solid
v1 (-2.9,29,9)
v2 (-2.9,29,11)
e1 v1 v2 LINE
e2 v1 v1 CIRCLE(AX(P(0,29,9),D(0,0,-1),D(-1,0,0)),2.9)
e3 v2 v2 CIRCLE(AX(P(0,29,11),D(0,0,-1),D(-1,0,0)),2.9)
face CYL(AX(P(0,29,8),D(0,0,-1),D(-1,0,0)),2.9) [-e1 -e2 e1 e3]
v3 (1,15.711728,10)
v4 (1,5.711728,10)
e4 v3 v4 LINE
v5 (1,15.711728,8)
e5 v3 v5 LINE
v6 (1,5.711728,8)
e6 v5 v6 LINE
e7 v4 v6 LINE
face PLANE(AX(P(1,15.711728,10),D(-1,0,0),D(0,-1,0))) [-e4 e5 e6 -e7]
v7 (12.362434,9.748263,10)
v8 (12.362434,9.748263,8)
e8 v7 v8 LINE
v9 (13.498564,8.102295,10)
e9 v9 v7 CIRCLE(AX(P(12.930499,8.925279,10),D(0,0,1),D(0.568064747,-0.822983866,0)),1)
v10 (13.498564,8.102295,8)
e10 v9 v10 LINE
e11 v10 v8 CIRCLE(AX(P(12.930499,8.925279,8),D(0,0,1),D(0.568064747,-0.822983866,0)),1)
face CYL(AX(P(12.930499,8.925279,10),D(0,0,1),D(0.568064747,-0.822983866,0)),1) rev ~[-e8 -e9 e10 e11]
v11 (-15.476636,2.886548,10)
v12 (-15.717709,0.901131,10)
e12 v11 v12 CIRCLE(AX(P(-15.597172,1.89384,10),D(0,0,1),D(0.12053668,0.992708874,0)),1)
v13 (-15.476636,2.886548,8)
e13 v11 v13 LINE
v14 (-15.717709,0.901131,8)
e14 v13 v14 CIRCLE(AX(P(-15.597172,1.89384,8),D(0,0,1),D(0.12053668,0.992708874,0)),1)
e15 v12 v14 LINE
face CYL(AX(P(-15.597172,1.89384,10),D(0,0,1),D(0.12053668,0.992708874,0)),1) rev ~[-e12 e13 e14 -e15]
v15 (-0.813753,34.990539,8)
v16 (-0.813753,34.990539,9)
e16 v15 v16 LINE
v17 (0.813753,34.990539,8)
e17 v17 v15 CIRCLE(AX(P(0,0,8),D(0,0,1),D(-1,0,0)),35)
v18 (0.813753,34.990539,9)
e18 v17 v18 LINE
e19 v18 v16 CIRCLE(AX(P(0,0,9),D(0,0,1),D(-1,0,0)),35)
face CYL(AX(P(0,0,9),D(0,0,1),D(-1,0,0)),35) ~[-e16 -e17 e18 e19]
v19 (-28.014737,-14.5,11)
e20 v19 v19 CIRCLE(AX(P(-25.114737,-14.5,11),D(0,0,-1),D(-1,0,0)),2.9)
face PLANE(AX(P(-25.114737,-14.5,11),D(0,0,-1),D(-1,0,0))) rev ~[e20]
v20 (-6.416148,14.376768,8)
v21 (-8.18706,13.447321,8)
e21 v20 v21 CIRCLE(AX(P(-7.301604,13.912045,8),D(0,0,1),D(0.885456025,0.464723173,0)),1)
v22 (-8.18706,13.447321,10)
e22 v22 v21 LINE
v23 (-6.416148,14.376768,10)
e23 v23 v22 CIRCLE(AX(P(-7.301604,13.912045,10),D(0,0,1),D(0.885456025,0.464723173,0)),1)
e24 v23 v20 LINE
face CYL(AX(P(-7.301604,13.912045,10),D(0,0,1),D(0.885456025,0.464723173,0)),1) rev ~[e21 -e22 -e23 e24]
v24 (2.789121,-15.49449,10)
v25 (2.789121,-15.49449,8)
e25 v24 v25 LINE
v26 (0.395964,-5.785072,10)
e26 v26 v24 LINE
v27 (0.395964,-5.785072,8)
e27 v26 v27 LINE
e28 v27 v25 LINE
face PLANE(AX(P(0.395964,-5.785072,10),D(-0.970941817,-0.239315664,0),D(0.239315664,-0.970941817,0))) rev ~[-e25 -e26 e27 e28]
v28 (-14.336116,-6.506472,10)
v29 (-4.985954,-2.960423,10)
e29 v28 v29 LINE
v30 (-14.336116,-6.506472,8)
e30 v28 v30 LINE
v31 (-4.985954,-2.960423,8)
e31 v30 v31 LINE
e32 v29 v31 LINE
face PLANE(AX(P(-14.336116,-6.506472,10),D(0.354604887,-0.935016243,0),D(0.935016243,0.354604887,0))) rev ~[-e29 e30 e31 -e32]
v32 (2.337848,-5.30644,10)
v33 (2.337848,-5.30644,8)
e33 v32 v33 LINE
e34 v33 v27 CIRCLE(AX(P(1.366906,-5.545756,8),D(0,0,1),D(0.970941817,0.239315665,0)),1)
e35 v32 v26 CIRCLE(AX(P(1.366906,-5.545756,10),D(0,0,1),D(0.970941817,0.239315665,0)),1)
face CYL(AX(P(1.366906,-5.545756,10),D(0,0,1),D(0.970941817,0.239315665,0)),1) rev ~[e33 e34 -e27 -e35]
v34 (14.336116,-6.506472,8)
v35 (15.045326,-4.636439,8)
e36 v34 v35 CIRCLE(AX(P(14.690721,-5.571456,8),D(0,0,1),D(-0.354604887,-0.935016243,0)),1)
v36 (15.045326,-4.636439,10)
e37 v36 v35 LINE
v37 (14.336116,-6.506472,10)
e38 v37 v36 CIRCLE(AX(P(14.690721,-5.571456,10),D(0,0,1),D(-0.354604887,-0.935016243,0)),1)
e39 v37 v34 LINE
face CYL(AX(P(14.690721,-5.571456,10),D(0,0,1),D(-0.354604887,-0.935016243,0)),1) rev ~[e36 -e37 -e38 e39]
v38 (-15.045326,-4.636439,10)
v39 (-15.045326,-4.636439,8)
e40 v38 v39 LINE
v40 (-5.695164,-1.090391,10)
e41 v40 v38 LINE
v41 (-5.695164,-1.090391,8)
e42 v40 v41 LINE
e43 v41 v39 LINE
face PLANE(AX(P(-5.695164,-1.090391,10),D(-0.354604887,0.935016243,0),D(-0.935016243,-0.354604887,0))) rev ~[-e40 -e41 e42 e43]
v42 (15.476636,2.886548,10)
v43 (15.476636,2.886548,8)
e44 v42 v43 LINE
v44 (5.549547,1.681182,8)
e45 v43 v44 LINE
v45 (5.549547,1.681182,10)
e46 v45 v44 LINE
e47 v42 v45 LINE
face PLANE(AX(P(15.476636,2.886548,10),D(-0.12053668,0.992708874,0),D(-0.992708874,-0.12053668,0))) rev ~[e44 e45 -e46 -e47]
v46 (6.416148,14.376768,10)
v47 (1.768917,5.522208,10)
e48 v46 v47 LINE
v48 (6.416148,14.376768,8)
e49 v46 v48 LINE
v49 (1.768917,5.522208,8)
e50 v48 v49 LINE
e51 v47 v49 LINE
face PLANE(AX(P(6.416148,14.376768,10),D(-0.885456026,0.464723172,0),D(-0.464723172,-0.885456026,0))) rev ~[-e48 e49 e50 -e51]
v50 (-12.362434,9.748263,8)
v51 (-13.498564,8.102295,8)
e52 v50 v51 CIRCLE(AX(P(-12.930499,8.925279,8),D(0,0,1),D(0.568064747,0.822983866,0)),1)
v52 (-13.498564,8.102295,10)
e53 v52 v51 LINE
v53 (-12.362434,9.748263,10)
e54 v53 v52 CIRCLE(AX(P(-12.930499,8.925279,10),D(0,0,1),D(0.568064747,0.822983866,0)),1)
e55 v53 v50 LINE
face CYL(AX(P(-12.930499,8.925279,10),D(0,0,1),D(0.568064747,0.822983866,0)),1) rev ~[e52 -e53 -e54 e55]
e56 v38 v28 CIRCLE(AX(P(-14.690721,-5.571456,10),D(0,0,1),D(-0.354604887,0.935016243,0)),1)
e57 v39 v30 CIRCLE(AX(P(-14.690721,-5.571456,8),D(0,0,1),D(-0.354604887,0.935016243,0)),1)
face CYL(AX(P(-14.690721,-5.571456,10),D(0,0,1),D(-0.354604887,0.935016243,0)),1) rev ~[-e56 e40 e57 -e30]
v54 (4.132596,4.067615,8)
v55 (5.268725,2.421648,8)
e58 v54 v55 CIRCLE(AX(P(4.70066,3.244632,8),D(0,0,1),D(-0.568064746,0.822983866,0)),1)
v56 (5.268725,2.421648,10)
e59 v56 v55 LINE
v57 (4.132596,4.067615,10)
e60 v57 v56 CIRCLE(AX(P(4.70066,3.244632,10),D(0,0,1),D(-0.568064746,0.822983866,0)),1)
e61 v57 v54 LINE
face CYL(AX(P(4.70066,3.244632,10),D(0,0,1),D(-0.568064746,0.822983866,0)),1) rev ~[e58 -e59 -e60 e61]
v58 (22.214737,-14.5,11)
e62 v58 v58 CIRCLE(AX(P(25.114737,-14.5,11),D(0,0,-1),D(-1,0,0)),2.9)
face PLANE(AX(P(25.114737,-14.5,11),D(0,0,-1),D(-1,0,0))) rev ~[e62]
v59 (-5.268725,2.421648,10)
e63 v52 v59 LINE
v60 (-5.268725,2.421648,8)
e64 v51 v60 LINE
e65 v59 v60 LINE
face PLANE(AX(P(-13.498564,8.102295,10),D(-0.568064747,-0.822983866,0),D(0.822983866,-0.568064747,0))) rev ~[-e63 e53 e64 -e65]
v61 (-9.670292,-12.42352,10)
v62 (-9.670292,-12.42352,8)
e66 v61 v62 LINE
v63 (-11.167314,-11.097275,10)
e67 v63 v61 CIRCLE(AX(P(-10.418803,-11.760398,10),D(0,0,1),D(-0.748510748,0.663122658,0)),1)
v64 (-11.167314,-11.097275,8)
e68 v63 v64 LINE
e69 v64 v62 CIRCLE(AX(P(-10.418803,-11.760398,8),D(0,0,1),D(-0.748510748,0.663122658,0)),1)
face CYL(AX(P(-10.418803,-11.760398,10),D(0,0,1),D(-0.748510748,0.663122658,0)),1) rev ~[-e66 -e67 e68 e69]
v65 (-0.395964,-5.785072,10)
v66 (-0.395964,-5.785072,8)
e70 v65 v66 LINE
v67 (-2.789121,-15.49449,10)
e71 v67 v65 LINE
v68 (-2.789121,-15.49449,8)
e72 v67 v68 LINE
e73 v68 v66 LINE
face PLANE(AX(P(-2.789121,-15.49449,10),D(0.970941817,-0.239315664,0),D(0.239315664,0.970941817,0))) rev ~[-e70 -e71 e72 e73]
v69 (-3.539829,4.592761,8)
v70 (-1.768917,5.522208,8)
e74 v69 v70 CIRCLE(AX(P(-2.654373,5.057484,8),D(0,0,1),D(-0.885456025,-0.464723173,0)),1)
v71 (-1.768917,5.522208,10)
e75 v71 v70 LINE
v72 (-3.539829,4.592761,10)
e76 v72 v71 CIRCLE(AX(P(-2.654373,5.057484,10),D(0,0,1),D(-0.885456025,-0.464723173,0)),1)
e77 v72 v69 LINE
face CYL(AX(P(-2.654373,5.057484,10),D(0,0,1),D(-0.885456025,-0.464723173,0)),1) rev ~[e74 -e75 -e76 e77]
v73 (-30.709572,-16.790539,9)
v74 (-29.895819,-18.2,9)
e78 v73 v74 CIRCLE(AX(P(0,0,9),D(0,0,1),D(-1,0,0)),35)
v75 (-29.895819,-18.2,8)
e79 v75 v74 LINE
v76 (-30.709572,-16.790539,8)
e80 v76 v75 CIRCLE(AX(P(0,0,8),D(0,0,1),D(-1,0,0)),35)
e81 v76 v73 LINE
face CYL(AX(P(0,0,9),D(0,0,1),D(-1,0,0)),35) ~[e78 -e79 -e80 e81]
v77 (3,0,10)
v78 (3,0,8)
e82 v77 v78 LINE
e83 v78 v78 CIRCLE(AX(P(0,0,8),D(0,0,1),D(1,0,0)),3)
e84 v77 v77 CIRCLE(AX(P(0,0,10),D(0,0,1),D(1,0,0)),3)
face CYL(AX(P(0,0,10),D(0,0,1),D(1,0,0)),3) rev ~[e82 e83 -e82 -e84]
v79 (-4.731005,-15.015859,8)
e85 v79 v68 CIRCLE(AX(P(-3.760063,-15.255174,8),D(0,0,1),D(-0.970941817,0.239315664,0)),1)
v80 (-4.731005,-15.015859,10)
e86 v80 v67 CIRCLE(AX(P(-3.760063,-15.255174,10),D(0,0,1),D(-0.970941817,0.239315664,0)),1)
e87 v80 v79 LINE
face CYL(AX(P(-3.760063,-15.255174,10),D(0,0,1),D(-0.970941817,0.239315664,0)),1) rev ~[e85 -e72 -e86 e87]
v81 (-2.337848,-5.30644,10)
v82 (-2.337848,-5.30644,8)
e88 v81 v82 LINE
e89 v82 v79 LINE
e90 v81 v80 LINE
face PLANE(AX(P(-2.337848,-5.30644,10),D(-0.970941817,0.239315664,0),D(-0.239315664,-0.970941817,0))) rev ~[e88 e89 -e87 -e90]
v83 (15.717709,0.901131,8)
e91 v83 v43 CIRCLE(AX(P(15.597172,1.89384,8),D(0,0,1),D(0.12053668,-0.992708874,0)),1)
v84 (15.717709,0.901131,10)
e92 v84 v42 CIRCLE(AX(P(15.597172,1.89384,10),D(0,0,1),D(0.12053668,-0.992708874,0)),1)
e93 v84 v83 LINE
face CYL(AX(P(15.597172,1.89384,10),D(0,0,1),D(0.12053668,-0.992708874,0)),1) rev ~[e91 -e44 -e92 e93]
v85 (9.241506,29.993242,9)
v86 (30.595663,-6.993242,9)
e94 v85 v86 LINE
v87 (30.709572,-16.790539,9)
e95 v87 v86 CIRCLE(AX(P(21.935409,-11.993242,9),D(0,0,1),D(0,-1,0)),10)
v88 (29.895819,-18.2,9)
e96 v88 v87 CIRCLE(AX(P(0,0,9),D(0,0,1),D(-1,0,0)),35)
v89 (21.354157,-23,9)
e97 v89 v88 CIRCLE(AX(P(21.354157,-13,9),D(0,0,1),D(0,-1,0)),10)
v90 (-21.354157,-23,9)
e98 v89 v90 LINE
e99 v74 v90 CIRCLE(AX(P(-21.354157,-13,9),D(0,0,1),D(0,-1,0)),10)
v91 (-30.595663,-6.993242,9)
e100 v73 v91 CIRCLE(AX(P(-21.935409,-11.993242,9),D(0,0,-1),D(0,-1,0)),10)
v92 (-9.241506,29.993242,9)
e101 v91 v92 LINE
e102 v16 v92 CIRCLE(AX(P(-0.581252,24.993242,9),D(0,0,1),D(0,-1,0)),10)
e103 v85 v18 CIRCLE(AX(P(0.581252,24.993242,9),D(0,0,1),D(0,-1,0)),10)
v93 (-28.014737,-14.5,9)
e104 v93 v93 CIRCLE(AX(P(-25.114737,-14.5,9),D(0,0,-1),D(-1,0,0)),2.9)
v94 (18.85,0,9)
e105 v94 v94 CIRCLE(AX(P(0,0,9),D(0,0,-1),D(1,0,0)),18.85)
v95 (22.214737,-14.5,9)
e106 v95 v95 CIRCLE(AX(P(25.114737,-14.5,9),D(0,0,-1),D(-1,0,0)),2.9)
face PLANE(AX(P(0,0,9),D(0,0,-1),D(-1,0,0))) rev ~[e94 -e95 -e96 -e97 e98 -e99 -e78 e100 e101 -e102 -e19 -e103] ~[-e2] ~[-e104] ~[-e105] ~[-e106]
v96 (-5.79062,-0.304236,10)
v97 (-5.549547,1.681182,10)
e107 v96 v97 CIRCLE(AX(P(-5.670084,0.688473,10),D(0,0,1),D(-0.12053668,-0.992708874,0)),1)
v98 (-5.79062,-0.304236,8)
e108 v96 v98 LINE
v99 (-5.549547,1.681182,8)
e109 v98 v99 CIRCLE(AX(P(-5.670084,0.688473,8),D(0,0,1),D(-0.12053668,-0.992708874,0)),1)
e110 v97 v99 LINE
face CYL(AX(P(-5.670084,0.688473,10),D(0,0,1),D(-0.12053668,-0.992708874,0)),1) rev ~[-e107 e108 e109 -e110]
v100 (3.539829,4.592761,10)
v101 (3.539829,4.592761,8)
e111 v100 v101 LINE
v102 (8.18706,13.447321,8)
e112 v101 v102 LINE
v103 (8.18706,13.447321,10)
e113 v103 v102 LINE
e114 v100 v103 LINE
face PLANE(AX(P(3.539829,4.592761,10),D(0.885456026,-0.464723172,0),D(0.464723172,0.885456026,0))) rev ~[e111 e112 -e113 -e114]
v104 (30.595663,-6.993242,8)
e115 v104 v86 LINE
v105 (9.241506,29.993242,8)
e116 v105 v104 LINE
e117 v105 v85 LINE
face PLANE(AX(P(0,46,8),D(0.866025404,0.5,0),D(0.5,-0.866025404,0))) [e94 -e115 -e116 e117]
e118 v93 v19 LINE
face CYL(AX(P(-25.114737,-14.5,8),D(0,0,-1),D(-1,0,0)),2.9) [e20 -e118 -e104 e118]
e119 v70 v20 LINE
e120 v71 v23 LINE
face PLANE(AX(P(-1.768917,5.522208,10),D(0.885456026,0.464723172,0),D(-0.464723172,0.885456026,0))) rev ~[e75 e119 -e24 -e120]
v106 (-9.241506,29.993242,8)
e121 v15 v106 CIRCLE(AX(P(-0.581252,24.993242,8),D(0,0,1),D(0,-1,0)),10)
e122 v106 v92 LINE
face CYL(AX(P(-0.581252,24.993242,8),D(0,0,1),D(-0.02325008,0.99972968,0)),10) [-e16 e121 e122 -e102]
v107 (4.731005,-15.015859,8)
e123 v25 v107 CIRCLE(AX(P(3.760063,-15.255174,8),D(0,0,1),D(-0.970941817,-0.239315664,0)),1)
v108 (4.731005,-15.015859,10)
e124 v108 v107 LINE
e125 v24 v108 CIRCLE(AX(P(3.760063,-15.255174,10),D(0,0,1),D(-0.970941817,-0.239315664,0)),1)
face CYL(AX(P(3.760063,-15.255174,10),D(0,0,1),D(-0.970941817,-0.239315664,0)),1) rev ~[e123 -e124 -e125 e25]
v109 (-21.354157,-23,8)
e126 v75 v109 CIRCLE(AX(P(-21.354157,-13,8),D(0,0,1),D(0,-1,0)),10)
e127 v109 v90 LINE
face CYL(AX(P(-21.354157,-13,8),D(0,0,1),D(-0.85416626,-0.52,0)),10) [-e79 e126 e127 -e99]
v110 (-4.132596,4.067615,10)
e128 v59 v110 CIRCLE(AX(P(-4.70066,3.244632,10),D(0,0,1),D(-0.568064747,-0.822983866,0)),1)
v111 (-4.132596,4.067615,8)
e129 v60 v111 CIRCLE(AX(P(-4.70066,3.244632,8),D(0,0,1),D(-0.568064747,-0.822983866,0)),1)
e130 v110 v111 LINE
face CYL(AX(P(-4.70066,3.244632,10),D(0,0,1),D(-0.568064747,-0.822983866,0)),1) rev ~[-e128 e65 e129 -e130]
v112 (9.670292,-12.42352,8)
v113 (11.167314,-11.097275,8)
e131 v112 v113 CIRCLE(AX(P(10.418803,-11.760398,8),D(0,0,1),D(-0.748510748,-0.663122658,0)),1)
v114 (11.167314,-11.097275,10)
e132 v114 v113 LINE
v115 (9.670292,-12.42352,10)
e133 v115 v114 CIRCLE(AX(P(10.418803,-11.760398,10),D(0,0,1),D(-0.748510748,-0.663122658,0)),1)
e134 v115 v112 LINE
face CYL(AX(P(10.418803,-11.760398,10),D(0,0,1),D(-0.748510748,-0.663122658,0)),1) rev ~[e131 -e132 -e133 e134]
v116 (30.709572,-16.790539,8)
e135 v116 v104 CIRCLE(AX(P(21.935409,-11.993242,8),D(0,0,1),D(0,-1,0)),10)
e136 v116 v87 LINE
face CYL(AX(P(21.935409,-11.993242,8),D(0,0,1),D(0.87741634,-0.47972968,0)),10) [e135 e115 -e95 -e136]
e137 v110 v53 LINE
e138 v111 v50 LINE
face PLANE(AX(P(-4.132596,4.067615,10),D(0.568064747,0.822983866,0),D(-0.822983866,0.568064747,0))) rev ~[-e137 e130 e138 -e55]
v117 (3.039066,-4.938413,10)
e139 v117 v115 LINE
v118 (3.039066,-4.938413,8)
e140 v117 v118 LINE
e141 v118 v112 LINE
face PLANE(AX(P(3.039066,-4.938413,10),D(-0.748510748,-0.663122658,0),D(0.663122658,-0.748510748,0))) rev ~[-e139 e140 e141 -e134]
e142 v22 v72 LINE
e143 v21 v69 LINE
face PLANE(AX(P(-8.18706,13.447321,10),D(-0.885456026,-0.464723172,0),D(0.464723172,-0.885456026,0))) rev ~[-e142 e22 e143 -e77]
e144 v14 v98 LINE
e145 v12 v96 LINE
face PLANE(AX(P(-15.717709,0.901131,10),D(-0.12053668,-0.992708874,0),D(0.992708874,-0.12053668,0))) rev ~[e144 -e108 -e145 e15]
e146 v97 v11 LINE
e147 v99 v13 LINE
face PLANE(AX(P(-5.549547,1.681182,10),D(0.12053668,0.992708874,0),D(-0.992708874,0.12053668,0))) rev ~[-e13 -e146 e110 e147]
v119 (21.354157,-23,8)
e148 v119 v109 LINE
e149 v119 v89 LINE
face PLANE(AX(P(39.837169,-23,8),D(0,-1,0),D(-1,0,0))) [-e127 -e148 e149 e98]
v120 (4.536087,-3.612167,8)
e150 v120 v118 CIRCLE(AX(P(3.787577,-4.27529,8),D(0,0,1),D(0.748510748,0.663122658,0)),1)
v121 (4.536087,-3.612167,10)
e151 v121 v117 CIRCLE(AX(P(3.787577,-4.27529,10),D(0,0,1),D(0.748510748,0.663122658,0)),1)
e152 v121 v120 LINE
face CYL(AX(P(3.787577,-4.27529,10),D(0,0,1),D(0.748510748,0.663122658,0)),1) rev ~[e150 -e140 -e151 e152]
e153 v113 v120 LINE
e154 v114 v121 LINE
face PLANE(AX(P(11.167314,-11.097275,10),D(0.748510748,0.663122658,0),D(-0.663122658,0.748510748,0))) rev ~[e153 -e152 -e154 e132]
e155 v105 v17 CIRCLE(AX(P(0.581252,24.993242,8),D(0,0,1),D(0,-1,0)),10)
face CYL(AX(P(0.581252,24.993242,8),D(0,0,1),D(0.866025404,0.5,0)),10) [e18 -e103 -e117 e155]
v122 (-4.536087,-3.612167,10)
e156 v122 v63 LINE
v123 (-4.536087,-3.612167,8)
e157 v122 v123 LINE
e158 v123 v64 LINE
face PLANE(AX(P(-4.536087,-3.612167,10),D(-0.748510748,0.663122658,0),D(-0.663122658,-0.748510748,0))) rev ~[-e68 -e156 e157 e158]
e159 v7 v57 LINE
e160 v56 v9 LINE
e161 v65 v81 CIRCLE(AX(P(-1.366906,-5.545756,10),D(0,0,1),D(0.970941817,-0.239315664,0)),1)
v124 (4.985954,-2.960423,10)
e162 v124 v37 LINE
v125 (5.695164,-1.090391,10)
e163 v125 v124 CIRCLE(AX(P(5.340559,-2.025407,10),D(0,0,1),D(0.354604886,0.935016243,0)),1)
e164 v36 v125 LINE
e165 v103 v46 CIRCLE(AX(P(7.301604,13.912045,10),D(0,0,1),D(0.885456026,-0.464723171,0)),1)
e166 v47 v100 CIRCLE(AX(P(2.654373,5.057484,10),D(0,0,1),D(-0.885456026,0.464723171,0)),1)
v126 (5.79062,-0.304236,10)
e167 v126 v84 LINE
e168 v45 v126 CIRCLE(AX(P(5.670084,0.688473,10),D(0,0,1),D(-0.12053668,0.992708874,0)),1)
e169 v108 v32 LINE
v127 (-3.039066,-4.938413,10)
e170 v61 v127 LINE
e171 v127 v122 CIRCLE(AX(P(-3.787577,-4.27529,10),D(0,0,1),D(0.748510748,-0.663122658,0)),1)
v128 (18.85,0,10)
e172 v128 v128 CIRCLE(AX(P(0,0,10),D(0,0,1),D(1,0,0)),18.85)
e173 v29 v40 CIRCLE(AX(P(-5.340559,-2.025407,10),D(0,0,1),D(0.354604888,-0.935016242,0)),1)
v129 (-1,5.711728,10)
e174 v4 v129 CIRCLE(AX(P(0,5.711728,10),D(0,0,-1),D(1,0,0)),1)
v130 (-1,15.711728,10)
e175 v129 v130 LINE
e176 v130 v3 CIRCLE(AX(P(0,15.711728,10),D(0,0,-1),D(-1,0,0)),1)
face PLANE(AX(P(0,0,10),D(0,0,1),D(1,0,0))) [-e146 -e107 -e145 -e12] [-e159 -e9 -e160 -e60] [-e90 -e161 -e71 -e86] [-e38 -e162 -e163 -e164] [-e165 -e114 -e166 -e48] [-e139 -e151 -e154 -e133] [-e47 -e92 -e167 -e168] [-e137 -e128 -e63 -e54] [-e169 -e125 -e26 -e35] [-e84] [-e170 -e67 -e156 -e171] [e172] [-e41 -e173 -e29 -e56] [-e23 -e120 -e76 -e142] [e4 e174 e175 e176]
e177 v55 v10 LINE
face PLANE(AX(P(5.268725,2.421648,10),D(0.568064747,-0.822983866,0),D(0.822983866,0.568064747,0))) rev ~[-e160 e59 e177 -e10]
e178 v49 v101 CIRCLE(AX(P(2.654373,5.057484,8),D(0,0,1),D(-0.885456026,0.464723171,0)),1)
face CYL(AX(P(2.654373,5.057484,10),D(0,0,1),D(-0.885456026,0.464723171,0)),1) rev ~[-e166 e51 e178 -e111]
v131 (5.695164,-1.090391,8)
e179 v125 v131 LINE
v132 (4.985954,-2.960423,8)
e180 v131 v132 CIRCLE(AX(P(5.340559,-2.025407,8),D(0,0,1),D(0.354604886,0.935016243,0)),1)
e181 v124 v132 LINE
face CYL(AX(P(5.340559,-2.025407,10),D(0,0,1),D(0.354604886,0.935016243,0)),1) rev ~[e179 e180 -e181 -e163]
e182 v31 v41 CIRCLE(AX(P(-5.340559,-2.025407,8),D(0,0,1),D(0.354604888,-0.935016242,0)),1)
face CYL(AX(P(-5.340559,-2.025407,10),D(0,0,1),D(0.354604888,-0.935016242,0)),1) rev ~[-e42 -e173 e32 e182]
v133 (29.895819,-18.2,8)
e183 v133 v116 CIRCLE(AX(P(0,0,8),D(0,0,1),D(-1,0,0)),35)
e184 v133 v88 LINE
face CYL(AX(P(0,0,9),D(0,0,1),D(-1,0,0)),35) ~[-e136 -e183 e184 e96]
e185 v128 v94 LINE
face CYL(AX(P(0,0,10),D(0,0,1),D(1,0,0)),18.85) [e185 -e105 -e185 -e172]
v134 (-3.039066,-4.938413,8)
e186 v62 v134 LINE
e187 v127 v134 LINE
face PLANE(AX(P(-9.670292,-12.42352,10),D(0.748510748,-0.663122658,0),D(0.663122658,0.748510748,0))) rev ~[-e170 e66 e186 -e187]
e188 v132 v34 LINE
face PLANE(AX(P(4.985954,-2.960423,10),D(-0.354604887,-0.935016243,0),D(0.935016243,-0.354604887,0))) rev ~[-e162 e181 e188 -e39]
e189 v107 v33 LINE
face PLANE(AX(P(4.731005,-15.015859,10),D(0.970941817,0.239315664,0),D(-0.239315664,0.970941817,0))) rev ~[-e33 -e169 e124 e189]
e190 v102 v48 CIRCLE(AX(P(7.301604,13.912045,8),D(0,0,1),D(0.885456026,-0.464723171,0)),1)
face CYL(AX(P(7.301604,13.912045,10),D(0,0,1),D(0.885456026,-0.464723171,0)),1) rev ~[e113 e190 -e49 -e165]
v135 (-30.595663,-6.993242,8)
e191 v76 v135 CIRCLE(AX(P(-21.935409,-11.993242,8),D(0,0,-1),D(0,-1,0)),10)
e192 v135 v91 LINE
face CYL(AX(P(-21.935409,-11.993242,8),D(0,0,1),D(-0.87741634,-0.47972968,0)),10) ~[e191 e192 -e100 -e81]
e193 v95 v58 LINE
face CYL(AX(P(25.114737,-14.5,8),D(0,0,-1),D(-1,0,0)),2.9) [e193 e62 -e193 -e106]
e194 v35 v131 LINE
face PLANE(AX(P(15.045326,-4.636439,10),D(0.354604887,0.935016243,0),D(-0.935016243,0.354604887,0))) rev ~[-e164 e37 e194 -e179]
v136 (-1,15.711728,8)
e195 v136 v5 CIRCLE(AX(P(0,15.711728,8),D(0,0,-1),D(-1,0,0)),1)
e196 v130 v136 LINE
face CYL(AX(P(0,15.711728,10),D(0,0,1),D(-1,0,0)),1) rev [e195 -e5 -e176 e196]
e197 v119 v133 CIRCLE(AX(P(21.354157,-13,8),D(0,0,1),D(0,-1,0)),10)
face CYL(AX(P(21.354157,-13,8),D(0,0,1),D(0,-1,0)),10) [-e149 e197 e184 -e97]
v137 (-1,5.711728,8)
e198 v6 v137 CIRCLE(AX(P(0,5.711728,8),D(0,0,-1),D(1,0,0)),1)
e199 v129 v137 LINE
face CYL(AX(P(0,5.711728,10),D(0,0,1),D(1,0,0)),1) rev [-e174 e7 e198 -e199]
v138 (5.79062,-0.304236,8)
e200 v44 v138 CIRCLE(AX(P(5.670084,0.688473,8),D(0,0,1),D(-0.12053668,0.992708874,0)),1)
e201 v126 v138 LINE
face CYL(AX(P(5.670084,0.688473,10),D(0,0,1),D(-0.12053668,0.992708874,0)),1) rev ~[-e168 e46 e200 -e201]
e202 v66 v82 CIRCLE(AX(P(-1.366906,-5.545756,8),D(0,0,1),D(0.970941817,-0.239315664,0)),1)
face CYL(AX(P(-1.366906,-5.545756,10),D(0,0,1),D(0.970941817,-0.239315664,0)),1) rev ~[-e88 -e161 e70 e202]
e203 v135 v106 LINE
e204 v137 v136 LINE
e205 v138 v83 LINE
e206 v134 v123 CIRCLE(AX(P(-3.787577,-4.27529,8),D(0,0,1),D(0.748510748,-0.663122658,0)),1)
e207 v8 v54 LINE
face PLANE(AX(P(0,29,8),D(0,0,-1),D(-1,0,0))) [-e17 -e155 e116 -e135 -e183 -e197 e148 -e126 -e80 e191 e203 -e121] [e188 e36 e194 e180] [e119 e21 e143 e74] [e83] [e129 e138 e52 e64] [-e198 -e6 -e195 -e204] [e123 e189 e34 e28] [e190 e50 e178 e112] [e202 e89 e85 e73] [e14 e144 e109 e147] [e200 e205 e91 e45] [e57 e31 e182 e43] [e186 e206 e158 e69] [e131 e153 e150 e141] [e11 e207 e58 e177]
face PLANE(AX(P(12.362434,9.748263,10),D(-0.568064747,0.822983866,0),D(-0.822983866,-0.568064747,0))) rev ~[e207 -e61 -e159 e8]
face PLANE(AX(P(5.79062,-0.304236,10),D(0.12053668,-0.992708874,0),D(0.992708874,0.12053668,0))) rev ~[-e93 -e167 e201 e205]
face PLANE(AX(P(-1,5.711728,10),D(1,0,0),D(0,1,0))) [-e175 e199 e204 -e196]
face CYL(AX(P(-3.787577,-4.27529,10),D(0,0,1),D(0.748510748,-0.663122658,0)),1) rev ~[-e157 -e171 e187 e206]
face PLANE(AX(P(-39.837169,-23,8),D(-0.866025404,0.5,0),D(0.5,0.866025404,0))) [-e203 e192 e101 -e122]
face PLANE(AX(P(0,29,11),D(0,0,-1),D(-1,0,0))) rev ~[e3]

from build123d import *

# Parameters (mm, degrees)
SKETCH2_R           = 18.85
SKETCH2_R_2         = 3
BOSS_EXTRUDE1_DEPTH = 2
BOSS_EXTRUDE2_START = -1
SKETCH3_R           = 35
SKETCH3_R_2         = 18.85
BOSS_EXTRUDE2_DEPTH = 1
SKETCH4_R           = 2.9
BOSS_EXTRUDE3_DEPTH = 3
SKETCH6_R           = 5
BOSS_EXTRUDE4_DEPTH = 1
SKETCH7_R           = 59.131365533
CUT_EXTRUDE1_DEPTH  = 10
FILLET1_R           = 10


with BuildPart() as part:
    # Sketch2 → Boss-Extrude1 (new body)
    with BuildSketch(Plane.XY.offset(10)):
        Circle(SKETCH2_R)
        Circle(SKETCH2_R_2, mode=Mode.SUBTRACT)
        with BuildLine():
            Line((1, 15.711728477), (1, 5.711728477))
            ThreePointArc((1, 5.711728477), (0, 4.711728477), (-1, 5.711728477))
            Line((-1, 5.711728477), (-1, 15.711728477))
            ThreePointArc((-1, 15.711728477), (0, 16.711728477), (1, 15.711728477))
        make_face(mode=Mode.SUBTRACT)
        with BuildLine():
            Line((6.416148271, 14.376767826), (1.76891655, 5.522207569))
            ThreePointArc((1.76891655, 5.522207569), (2.189649404, 4.172028372), (3.539828602, 4.592761225))
            Line((3.539828602, 4.592761225), (8.187060322, 13.447321482))
            ThreePointArc((8.187060322, 13.447321482), (7.766327468, 14.797500679), (6.416148271, 14.376767826))
        make_face(mode=Mode.SUBTRACT)
        with BuildLine():
            Line((12.362434295, 9.748262924), (4.132595637, 4.067615457))
            ThreePointArc((4.132595637, 4.067615457), (3.877676517, 2.676566844), (5.26872513, 2.421647725))
            Line((5.26872513, 2.421647725), (13.498563789, 8.102295192))
            ThreePointArc((13.498563789, 8.102295192), (13.753482908, 9.493343805), (12.362434295, 9.748262924))
        make_face(mode=Mode.SUBTRACT)
        with BuildLine():
            Line((15.476635607, 2.886548466), (5.549546866, 1.681181663))
            ThreePointArc((5.549546866, 1.681181663), (4.677374672, 0.567936109), (5.790620226, -0.304236085))
            Line((5.790620226, -0.304236085), (15.717708967, 0.901130718))
            ThreePointArc((15.717708967, 0.901130718), (16.589881161, 2.014376272), (15.476635607, 2.886548466))
        make_face(mode=Mode.SUBTRACT)
        with BuildLine():
            Line((15.045326214, -4.636439459), (5.695163787, -1.090390589))
            ThreePointArc((5.695163787, -1.090390589), (4.405542658, -1.670801945), (4.985954013, -2.960423074))
            Line((4.985954013, -2.960423074), (14.33611644, -6.506471945))
            ThreePointArc((14.33611644, -6.506471945), (15.62573757, -5.926060589), (15.045326214, -4.636439459))
        make_face(mode=Mode.SUBTRACT)
        with BuildLine():
            Line((11.167313902, -11.097274979), (4.536087319, -3.612167498))
            ThreePointArc((4.536087319, -3.612167498), (3.124453913, -3.526779408), (3.039065823, -4.938412814))
            Line((3.039065823, -4.938412814), (9.670292405, -12.423520296))
            ThreePointArc((9.670292405, -12.423520296), (11.081925812, -12.508908386), (11.167313902, -11.097274979))
        make_face(mode=Mode.SUBTRACT)
        with BuildLine():
            Line((4.731004555, -15.015858538), (2.337847912, -5.306440364))
            ThreePointArc((2.337847912, -5.306440364), (1.127590431, -4.574814211), (0.395964277, -5.785071693))
            Line((0.395964277, -5.785071693), (2.78912092, -15.494489867))
            ThreePointArc((2.78912092, -15.494489867), (3.999378402, -16.22611602), (4.731004555, -15.015858538))
        make_face(mode=Mode.SUBTRACT)
        with BuildLine():
            Line((-2.78912092, -15.494489867), (-0.395964277, -5.785071693))
            ThreePointArc((-0.395964277, -5.785071693), (-1.127590431, -4.574814211), (-2.337847912, -5.306440364))
            Line((-2.337847912, -5.306440364), (-4.731004555, -15.015858538))
            ThreePointArc((-4.731004555, -15.015858538), (-3.999378402, -16.22611602), (-2.78912092, -15.494489867))
        make_face(mode=Mode.SUBTRACT)
        with BuildLine():
            Line((-9.670292405, -12.423520296), (-3.039065823, -4.938412814))
            ThreePointArc((-3.039065823, -4.938412814), (-3.124453913, -3.526779408), (-4.536087319, -3.612167498))
            Line((-4.536087319, -3.612167498), (-11.167313902, -11.097274979))
            ThreePointArc((-11.167313902, -11.097274979), (-11.081925812, -12.508908386), (-9.670292405, -12.423520296))
        make_face(mode=Mode.SUBTRACT)
        with BuildLine():
            Line((-14.33611644, -6.506471945), (-4.985954013, -2.960423074))
            ThreePointArc((-4.985954013, -2.960423074), (-4.405542658, -1.670801945), (-5.695163787, -1.090390589))
            Line((-5.695163787, -1.090390589), (-15.045326214, -4.636439459))
            ThreePointArc((-15.045326214, -4.636439459), (-15.62573757, -5.926060589), (-14.33611644, -6.506471945))
        make_face(mode=Mode.SUBTRACT)
        with BuildLine():
            Line((-15.717708967, 0.901130718), (-5.790620226, -0.304236085))
            ThreePointArc((-5.790620226, -0.304236085), (-4.677374672, 0.567936109), (-5.549546866, 1.681181663))
            Line((-5.549546866, 1.681181663), (-15.476635607, 2.886548466))
            ThreePointArc((-15.476635607, 2.886548466), (-16.589881161, 2.014376272), (-15.717708967, 0.901130718))
        make_face(mode=Mode.SUBTRACT)
        with BuildLine():
            Line((-13.498563789, 8.102295192), (-5.26872513, 2.421647725))
            ThreePointArc((-5.26872513, 2.421647725), (-3.877676517, 2.676566844), (-4.132595637, 4.067615457))
            Line((-4.132595637, 4.067615457), (-12.362434295, 9.748262924))
            ThreePointArc((-12.362434295, 9.748262924), (-13.753482908, 9.493343805), (-13.498563789, 8.102295192))
        make_face(mode=Mode.SUBTRACT)
        with BuildLine():
            Line((-8.187060322, 13.447321482), (-3.539828602, 4.592761225))
            ThreePointArc((-3.539828602, 4.592761225), (-2.189649404, 4.172028372), (-1.76891655, 5.522207569))
            Line((-1.76891655, 5.522207569), (-6.416148271, 14.376767826))
            ThreePointArc((-6.416148271, 14.376767826), (-7.766327468, 14.797500679), (-8.187060322, 13.447321482))
        make_face(mode=Mode.SUBTRACT)
    extrude(amount=-BOSS_EXTRUDE1_DEPTH)

    # Sketch3 → Boss-Extrude2 (add)
    with BuildSketch(Plane(origin=(0, 0, 8), x_dir=(-1, 0, 0), z_dir=(0, 0, -1)).offset(BOSS_EXTRUDE2_START)):
        Circle(SKETCH3_R)
        with Locations(Location((0, 0, 0), (0, 0, 180))):
            Circle(SKETCH3_R_2, mode=Mode.SUBTRACT)
    extrude(amount=BOSS_EXTRUDE2_DEPTH)

    # Sketch4 → Boss-Extrude3 (add)
    with BuildSketch(Plane(origin=(0, 0, 8), x_dir=(-1, 0, 0), z_dir=(0, 0, -1))):
        with Locations((0, 29)):
            Circle(SKETCH4_R)
        with Locations((25.11473671, -14.5)):
            Circle(SKETCH4_R)
        with Locations((-25.11473671, -14.5)):
            Circle(SKETCH4_R)
    extrude(amount=-BOSS_EXTRUDE3_DEPTH)

    # Sketch6 → Boss-Extrude4 (add)
    with BuildSketch(Plane(origin=(0, 0, 9), x_dir=(-1, 0, 0), z_dir=(0, 0, -1))):
        with Locations((0, 30)):
            Circle(SKETCH6_R)
        with Locations((25.980762114, -15)):
            Circle(SKETCH6_R)
        with Locations((-25.980762114, -15)):
            Circle(SKETCH6_R)
    extrude(amount=BOSS_EXTRUDE4_DEPTH)

    # Sketch7 → Cut-Extrude1 (cut)
    with BuildSketch(Plane(origin=(0, 0, 8), x_dir=(-1, 0, 0), z_dir=(0, 0, -1))):
        Circle(SKETCH7_R)
        Polygon((0, 46), (-39.837168574, -23), (39.837168574, -23), align=None, mode=Mode.SUBTRACT)
    extrude(amount=-CUT_EXTRUDE1_DEPTH, mode=Mode.SUBTRACT)

    # Fillet1
    fillet1_edges = [part.edges().sort_by_distance(p)[0] for p in [
        (-6.727678329, 34.347319318, 8.5),
        (-33.109490245, -11.347319318, 8.5),
        (-26.381811917, -23, 8.5),
        (26.381811917, -23, 8.5),
        (33.109490245, -11.347319318, 8.5),
        (6.727678329, 34.347319318, 8.5),
    ]]
    fillet(fillet1_edges, radius=FILLET1_R)


solid = part.part
